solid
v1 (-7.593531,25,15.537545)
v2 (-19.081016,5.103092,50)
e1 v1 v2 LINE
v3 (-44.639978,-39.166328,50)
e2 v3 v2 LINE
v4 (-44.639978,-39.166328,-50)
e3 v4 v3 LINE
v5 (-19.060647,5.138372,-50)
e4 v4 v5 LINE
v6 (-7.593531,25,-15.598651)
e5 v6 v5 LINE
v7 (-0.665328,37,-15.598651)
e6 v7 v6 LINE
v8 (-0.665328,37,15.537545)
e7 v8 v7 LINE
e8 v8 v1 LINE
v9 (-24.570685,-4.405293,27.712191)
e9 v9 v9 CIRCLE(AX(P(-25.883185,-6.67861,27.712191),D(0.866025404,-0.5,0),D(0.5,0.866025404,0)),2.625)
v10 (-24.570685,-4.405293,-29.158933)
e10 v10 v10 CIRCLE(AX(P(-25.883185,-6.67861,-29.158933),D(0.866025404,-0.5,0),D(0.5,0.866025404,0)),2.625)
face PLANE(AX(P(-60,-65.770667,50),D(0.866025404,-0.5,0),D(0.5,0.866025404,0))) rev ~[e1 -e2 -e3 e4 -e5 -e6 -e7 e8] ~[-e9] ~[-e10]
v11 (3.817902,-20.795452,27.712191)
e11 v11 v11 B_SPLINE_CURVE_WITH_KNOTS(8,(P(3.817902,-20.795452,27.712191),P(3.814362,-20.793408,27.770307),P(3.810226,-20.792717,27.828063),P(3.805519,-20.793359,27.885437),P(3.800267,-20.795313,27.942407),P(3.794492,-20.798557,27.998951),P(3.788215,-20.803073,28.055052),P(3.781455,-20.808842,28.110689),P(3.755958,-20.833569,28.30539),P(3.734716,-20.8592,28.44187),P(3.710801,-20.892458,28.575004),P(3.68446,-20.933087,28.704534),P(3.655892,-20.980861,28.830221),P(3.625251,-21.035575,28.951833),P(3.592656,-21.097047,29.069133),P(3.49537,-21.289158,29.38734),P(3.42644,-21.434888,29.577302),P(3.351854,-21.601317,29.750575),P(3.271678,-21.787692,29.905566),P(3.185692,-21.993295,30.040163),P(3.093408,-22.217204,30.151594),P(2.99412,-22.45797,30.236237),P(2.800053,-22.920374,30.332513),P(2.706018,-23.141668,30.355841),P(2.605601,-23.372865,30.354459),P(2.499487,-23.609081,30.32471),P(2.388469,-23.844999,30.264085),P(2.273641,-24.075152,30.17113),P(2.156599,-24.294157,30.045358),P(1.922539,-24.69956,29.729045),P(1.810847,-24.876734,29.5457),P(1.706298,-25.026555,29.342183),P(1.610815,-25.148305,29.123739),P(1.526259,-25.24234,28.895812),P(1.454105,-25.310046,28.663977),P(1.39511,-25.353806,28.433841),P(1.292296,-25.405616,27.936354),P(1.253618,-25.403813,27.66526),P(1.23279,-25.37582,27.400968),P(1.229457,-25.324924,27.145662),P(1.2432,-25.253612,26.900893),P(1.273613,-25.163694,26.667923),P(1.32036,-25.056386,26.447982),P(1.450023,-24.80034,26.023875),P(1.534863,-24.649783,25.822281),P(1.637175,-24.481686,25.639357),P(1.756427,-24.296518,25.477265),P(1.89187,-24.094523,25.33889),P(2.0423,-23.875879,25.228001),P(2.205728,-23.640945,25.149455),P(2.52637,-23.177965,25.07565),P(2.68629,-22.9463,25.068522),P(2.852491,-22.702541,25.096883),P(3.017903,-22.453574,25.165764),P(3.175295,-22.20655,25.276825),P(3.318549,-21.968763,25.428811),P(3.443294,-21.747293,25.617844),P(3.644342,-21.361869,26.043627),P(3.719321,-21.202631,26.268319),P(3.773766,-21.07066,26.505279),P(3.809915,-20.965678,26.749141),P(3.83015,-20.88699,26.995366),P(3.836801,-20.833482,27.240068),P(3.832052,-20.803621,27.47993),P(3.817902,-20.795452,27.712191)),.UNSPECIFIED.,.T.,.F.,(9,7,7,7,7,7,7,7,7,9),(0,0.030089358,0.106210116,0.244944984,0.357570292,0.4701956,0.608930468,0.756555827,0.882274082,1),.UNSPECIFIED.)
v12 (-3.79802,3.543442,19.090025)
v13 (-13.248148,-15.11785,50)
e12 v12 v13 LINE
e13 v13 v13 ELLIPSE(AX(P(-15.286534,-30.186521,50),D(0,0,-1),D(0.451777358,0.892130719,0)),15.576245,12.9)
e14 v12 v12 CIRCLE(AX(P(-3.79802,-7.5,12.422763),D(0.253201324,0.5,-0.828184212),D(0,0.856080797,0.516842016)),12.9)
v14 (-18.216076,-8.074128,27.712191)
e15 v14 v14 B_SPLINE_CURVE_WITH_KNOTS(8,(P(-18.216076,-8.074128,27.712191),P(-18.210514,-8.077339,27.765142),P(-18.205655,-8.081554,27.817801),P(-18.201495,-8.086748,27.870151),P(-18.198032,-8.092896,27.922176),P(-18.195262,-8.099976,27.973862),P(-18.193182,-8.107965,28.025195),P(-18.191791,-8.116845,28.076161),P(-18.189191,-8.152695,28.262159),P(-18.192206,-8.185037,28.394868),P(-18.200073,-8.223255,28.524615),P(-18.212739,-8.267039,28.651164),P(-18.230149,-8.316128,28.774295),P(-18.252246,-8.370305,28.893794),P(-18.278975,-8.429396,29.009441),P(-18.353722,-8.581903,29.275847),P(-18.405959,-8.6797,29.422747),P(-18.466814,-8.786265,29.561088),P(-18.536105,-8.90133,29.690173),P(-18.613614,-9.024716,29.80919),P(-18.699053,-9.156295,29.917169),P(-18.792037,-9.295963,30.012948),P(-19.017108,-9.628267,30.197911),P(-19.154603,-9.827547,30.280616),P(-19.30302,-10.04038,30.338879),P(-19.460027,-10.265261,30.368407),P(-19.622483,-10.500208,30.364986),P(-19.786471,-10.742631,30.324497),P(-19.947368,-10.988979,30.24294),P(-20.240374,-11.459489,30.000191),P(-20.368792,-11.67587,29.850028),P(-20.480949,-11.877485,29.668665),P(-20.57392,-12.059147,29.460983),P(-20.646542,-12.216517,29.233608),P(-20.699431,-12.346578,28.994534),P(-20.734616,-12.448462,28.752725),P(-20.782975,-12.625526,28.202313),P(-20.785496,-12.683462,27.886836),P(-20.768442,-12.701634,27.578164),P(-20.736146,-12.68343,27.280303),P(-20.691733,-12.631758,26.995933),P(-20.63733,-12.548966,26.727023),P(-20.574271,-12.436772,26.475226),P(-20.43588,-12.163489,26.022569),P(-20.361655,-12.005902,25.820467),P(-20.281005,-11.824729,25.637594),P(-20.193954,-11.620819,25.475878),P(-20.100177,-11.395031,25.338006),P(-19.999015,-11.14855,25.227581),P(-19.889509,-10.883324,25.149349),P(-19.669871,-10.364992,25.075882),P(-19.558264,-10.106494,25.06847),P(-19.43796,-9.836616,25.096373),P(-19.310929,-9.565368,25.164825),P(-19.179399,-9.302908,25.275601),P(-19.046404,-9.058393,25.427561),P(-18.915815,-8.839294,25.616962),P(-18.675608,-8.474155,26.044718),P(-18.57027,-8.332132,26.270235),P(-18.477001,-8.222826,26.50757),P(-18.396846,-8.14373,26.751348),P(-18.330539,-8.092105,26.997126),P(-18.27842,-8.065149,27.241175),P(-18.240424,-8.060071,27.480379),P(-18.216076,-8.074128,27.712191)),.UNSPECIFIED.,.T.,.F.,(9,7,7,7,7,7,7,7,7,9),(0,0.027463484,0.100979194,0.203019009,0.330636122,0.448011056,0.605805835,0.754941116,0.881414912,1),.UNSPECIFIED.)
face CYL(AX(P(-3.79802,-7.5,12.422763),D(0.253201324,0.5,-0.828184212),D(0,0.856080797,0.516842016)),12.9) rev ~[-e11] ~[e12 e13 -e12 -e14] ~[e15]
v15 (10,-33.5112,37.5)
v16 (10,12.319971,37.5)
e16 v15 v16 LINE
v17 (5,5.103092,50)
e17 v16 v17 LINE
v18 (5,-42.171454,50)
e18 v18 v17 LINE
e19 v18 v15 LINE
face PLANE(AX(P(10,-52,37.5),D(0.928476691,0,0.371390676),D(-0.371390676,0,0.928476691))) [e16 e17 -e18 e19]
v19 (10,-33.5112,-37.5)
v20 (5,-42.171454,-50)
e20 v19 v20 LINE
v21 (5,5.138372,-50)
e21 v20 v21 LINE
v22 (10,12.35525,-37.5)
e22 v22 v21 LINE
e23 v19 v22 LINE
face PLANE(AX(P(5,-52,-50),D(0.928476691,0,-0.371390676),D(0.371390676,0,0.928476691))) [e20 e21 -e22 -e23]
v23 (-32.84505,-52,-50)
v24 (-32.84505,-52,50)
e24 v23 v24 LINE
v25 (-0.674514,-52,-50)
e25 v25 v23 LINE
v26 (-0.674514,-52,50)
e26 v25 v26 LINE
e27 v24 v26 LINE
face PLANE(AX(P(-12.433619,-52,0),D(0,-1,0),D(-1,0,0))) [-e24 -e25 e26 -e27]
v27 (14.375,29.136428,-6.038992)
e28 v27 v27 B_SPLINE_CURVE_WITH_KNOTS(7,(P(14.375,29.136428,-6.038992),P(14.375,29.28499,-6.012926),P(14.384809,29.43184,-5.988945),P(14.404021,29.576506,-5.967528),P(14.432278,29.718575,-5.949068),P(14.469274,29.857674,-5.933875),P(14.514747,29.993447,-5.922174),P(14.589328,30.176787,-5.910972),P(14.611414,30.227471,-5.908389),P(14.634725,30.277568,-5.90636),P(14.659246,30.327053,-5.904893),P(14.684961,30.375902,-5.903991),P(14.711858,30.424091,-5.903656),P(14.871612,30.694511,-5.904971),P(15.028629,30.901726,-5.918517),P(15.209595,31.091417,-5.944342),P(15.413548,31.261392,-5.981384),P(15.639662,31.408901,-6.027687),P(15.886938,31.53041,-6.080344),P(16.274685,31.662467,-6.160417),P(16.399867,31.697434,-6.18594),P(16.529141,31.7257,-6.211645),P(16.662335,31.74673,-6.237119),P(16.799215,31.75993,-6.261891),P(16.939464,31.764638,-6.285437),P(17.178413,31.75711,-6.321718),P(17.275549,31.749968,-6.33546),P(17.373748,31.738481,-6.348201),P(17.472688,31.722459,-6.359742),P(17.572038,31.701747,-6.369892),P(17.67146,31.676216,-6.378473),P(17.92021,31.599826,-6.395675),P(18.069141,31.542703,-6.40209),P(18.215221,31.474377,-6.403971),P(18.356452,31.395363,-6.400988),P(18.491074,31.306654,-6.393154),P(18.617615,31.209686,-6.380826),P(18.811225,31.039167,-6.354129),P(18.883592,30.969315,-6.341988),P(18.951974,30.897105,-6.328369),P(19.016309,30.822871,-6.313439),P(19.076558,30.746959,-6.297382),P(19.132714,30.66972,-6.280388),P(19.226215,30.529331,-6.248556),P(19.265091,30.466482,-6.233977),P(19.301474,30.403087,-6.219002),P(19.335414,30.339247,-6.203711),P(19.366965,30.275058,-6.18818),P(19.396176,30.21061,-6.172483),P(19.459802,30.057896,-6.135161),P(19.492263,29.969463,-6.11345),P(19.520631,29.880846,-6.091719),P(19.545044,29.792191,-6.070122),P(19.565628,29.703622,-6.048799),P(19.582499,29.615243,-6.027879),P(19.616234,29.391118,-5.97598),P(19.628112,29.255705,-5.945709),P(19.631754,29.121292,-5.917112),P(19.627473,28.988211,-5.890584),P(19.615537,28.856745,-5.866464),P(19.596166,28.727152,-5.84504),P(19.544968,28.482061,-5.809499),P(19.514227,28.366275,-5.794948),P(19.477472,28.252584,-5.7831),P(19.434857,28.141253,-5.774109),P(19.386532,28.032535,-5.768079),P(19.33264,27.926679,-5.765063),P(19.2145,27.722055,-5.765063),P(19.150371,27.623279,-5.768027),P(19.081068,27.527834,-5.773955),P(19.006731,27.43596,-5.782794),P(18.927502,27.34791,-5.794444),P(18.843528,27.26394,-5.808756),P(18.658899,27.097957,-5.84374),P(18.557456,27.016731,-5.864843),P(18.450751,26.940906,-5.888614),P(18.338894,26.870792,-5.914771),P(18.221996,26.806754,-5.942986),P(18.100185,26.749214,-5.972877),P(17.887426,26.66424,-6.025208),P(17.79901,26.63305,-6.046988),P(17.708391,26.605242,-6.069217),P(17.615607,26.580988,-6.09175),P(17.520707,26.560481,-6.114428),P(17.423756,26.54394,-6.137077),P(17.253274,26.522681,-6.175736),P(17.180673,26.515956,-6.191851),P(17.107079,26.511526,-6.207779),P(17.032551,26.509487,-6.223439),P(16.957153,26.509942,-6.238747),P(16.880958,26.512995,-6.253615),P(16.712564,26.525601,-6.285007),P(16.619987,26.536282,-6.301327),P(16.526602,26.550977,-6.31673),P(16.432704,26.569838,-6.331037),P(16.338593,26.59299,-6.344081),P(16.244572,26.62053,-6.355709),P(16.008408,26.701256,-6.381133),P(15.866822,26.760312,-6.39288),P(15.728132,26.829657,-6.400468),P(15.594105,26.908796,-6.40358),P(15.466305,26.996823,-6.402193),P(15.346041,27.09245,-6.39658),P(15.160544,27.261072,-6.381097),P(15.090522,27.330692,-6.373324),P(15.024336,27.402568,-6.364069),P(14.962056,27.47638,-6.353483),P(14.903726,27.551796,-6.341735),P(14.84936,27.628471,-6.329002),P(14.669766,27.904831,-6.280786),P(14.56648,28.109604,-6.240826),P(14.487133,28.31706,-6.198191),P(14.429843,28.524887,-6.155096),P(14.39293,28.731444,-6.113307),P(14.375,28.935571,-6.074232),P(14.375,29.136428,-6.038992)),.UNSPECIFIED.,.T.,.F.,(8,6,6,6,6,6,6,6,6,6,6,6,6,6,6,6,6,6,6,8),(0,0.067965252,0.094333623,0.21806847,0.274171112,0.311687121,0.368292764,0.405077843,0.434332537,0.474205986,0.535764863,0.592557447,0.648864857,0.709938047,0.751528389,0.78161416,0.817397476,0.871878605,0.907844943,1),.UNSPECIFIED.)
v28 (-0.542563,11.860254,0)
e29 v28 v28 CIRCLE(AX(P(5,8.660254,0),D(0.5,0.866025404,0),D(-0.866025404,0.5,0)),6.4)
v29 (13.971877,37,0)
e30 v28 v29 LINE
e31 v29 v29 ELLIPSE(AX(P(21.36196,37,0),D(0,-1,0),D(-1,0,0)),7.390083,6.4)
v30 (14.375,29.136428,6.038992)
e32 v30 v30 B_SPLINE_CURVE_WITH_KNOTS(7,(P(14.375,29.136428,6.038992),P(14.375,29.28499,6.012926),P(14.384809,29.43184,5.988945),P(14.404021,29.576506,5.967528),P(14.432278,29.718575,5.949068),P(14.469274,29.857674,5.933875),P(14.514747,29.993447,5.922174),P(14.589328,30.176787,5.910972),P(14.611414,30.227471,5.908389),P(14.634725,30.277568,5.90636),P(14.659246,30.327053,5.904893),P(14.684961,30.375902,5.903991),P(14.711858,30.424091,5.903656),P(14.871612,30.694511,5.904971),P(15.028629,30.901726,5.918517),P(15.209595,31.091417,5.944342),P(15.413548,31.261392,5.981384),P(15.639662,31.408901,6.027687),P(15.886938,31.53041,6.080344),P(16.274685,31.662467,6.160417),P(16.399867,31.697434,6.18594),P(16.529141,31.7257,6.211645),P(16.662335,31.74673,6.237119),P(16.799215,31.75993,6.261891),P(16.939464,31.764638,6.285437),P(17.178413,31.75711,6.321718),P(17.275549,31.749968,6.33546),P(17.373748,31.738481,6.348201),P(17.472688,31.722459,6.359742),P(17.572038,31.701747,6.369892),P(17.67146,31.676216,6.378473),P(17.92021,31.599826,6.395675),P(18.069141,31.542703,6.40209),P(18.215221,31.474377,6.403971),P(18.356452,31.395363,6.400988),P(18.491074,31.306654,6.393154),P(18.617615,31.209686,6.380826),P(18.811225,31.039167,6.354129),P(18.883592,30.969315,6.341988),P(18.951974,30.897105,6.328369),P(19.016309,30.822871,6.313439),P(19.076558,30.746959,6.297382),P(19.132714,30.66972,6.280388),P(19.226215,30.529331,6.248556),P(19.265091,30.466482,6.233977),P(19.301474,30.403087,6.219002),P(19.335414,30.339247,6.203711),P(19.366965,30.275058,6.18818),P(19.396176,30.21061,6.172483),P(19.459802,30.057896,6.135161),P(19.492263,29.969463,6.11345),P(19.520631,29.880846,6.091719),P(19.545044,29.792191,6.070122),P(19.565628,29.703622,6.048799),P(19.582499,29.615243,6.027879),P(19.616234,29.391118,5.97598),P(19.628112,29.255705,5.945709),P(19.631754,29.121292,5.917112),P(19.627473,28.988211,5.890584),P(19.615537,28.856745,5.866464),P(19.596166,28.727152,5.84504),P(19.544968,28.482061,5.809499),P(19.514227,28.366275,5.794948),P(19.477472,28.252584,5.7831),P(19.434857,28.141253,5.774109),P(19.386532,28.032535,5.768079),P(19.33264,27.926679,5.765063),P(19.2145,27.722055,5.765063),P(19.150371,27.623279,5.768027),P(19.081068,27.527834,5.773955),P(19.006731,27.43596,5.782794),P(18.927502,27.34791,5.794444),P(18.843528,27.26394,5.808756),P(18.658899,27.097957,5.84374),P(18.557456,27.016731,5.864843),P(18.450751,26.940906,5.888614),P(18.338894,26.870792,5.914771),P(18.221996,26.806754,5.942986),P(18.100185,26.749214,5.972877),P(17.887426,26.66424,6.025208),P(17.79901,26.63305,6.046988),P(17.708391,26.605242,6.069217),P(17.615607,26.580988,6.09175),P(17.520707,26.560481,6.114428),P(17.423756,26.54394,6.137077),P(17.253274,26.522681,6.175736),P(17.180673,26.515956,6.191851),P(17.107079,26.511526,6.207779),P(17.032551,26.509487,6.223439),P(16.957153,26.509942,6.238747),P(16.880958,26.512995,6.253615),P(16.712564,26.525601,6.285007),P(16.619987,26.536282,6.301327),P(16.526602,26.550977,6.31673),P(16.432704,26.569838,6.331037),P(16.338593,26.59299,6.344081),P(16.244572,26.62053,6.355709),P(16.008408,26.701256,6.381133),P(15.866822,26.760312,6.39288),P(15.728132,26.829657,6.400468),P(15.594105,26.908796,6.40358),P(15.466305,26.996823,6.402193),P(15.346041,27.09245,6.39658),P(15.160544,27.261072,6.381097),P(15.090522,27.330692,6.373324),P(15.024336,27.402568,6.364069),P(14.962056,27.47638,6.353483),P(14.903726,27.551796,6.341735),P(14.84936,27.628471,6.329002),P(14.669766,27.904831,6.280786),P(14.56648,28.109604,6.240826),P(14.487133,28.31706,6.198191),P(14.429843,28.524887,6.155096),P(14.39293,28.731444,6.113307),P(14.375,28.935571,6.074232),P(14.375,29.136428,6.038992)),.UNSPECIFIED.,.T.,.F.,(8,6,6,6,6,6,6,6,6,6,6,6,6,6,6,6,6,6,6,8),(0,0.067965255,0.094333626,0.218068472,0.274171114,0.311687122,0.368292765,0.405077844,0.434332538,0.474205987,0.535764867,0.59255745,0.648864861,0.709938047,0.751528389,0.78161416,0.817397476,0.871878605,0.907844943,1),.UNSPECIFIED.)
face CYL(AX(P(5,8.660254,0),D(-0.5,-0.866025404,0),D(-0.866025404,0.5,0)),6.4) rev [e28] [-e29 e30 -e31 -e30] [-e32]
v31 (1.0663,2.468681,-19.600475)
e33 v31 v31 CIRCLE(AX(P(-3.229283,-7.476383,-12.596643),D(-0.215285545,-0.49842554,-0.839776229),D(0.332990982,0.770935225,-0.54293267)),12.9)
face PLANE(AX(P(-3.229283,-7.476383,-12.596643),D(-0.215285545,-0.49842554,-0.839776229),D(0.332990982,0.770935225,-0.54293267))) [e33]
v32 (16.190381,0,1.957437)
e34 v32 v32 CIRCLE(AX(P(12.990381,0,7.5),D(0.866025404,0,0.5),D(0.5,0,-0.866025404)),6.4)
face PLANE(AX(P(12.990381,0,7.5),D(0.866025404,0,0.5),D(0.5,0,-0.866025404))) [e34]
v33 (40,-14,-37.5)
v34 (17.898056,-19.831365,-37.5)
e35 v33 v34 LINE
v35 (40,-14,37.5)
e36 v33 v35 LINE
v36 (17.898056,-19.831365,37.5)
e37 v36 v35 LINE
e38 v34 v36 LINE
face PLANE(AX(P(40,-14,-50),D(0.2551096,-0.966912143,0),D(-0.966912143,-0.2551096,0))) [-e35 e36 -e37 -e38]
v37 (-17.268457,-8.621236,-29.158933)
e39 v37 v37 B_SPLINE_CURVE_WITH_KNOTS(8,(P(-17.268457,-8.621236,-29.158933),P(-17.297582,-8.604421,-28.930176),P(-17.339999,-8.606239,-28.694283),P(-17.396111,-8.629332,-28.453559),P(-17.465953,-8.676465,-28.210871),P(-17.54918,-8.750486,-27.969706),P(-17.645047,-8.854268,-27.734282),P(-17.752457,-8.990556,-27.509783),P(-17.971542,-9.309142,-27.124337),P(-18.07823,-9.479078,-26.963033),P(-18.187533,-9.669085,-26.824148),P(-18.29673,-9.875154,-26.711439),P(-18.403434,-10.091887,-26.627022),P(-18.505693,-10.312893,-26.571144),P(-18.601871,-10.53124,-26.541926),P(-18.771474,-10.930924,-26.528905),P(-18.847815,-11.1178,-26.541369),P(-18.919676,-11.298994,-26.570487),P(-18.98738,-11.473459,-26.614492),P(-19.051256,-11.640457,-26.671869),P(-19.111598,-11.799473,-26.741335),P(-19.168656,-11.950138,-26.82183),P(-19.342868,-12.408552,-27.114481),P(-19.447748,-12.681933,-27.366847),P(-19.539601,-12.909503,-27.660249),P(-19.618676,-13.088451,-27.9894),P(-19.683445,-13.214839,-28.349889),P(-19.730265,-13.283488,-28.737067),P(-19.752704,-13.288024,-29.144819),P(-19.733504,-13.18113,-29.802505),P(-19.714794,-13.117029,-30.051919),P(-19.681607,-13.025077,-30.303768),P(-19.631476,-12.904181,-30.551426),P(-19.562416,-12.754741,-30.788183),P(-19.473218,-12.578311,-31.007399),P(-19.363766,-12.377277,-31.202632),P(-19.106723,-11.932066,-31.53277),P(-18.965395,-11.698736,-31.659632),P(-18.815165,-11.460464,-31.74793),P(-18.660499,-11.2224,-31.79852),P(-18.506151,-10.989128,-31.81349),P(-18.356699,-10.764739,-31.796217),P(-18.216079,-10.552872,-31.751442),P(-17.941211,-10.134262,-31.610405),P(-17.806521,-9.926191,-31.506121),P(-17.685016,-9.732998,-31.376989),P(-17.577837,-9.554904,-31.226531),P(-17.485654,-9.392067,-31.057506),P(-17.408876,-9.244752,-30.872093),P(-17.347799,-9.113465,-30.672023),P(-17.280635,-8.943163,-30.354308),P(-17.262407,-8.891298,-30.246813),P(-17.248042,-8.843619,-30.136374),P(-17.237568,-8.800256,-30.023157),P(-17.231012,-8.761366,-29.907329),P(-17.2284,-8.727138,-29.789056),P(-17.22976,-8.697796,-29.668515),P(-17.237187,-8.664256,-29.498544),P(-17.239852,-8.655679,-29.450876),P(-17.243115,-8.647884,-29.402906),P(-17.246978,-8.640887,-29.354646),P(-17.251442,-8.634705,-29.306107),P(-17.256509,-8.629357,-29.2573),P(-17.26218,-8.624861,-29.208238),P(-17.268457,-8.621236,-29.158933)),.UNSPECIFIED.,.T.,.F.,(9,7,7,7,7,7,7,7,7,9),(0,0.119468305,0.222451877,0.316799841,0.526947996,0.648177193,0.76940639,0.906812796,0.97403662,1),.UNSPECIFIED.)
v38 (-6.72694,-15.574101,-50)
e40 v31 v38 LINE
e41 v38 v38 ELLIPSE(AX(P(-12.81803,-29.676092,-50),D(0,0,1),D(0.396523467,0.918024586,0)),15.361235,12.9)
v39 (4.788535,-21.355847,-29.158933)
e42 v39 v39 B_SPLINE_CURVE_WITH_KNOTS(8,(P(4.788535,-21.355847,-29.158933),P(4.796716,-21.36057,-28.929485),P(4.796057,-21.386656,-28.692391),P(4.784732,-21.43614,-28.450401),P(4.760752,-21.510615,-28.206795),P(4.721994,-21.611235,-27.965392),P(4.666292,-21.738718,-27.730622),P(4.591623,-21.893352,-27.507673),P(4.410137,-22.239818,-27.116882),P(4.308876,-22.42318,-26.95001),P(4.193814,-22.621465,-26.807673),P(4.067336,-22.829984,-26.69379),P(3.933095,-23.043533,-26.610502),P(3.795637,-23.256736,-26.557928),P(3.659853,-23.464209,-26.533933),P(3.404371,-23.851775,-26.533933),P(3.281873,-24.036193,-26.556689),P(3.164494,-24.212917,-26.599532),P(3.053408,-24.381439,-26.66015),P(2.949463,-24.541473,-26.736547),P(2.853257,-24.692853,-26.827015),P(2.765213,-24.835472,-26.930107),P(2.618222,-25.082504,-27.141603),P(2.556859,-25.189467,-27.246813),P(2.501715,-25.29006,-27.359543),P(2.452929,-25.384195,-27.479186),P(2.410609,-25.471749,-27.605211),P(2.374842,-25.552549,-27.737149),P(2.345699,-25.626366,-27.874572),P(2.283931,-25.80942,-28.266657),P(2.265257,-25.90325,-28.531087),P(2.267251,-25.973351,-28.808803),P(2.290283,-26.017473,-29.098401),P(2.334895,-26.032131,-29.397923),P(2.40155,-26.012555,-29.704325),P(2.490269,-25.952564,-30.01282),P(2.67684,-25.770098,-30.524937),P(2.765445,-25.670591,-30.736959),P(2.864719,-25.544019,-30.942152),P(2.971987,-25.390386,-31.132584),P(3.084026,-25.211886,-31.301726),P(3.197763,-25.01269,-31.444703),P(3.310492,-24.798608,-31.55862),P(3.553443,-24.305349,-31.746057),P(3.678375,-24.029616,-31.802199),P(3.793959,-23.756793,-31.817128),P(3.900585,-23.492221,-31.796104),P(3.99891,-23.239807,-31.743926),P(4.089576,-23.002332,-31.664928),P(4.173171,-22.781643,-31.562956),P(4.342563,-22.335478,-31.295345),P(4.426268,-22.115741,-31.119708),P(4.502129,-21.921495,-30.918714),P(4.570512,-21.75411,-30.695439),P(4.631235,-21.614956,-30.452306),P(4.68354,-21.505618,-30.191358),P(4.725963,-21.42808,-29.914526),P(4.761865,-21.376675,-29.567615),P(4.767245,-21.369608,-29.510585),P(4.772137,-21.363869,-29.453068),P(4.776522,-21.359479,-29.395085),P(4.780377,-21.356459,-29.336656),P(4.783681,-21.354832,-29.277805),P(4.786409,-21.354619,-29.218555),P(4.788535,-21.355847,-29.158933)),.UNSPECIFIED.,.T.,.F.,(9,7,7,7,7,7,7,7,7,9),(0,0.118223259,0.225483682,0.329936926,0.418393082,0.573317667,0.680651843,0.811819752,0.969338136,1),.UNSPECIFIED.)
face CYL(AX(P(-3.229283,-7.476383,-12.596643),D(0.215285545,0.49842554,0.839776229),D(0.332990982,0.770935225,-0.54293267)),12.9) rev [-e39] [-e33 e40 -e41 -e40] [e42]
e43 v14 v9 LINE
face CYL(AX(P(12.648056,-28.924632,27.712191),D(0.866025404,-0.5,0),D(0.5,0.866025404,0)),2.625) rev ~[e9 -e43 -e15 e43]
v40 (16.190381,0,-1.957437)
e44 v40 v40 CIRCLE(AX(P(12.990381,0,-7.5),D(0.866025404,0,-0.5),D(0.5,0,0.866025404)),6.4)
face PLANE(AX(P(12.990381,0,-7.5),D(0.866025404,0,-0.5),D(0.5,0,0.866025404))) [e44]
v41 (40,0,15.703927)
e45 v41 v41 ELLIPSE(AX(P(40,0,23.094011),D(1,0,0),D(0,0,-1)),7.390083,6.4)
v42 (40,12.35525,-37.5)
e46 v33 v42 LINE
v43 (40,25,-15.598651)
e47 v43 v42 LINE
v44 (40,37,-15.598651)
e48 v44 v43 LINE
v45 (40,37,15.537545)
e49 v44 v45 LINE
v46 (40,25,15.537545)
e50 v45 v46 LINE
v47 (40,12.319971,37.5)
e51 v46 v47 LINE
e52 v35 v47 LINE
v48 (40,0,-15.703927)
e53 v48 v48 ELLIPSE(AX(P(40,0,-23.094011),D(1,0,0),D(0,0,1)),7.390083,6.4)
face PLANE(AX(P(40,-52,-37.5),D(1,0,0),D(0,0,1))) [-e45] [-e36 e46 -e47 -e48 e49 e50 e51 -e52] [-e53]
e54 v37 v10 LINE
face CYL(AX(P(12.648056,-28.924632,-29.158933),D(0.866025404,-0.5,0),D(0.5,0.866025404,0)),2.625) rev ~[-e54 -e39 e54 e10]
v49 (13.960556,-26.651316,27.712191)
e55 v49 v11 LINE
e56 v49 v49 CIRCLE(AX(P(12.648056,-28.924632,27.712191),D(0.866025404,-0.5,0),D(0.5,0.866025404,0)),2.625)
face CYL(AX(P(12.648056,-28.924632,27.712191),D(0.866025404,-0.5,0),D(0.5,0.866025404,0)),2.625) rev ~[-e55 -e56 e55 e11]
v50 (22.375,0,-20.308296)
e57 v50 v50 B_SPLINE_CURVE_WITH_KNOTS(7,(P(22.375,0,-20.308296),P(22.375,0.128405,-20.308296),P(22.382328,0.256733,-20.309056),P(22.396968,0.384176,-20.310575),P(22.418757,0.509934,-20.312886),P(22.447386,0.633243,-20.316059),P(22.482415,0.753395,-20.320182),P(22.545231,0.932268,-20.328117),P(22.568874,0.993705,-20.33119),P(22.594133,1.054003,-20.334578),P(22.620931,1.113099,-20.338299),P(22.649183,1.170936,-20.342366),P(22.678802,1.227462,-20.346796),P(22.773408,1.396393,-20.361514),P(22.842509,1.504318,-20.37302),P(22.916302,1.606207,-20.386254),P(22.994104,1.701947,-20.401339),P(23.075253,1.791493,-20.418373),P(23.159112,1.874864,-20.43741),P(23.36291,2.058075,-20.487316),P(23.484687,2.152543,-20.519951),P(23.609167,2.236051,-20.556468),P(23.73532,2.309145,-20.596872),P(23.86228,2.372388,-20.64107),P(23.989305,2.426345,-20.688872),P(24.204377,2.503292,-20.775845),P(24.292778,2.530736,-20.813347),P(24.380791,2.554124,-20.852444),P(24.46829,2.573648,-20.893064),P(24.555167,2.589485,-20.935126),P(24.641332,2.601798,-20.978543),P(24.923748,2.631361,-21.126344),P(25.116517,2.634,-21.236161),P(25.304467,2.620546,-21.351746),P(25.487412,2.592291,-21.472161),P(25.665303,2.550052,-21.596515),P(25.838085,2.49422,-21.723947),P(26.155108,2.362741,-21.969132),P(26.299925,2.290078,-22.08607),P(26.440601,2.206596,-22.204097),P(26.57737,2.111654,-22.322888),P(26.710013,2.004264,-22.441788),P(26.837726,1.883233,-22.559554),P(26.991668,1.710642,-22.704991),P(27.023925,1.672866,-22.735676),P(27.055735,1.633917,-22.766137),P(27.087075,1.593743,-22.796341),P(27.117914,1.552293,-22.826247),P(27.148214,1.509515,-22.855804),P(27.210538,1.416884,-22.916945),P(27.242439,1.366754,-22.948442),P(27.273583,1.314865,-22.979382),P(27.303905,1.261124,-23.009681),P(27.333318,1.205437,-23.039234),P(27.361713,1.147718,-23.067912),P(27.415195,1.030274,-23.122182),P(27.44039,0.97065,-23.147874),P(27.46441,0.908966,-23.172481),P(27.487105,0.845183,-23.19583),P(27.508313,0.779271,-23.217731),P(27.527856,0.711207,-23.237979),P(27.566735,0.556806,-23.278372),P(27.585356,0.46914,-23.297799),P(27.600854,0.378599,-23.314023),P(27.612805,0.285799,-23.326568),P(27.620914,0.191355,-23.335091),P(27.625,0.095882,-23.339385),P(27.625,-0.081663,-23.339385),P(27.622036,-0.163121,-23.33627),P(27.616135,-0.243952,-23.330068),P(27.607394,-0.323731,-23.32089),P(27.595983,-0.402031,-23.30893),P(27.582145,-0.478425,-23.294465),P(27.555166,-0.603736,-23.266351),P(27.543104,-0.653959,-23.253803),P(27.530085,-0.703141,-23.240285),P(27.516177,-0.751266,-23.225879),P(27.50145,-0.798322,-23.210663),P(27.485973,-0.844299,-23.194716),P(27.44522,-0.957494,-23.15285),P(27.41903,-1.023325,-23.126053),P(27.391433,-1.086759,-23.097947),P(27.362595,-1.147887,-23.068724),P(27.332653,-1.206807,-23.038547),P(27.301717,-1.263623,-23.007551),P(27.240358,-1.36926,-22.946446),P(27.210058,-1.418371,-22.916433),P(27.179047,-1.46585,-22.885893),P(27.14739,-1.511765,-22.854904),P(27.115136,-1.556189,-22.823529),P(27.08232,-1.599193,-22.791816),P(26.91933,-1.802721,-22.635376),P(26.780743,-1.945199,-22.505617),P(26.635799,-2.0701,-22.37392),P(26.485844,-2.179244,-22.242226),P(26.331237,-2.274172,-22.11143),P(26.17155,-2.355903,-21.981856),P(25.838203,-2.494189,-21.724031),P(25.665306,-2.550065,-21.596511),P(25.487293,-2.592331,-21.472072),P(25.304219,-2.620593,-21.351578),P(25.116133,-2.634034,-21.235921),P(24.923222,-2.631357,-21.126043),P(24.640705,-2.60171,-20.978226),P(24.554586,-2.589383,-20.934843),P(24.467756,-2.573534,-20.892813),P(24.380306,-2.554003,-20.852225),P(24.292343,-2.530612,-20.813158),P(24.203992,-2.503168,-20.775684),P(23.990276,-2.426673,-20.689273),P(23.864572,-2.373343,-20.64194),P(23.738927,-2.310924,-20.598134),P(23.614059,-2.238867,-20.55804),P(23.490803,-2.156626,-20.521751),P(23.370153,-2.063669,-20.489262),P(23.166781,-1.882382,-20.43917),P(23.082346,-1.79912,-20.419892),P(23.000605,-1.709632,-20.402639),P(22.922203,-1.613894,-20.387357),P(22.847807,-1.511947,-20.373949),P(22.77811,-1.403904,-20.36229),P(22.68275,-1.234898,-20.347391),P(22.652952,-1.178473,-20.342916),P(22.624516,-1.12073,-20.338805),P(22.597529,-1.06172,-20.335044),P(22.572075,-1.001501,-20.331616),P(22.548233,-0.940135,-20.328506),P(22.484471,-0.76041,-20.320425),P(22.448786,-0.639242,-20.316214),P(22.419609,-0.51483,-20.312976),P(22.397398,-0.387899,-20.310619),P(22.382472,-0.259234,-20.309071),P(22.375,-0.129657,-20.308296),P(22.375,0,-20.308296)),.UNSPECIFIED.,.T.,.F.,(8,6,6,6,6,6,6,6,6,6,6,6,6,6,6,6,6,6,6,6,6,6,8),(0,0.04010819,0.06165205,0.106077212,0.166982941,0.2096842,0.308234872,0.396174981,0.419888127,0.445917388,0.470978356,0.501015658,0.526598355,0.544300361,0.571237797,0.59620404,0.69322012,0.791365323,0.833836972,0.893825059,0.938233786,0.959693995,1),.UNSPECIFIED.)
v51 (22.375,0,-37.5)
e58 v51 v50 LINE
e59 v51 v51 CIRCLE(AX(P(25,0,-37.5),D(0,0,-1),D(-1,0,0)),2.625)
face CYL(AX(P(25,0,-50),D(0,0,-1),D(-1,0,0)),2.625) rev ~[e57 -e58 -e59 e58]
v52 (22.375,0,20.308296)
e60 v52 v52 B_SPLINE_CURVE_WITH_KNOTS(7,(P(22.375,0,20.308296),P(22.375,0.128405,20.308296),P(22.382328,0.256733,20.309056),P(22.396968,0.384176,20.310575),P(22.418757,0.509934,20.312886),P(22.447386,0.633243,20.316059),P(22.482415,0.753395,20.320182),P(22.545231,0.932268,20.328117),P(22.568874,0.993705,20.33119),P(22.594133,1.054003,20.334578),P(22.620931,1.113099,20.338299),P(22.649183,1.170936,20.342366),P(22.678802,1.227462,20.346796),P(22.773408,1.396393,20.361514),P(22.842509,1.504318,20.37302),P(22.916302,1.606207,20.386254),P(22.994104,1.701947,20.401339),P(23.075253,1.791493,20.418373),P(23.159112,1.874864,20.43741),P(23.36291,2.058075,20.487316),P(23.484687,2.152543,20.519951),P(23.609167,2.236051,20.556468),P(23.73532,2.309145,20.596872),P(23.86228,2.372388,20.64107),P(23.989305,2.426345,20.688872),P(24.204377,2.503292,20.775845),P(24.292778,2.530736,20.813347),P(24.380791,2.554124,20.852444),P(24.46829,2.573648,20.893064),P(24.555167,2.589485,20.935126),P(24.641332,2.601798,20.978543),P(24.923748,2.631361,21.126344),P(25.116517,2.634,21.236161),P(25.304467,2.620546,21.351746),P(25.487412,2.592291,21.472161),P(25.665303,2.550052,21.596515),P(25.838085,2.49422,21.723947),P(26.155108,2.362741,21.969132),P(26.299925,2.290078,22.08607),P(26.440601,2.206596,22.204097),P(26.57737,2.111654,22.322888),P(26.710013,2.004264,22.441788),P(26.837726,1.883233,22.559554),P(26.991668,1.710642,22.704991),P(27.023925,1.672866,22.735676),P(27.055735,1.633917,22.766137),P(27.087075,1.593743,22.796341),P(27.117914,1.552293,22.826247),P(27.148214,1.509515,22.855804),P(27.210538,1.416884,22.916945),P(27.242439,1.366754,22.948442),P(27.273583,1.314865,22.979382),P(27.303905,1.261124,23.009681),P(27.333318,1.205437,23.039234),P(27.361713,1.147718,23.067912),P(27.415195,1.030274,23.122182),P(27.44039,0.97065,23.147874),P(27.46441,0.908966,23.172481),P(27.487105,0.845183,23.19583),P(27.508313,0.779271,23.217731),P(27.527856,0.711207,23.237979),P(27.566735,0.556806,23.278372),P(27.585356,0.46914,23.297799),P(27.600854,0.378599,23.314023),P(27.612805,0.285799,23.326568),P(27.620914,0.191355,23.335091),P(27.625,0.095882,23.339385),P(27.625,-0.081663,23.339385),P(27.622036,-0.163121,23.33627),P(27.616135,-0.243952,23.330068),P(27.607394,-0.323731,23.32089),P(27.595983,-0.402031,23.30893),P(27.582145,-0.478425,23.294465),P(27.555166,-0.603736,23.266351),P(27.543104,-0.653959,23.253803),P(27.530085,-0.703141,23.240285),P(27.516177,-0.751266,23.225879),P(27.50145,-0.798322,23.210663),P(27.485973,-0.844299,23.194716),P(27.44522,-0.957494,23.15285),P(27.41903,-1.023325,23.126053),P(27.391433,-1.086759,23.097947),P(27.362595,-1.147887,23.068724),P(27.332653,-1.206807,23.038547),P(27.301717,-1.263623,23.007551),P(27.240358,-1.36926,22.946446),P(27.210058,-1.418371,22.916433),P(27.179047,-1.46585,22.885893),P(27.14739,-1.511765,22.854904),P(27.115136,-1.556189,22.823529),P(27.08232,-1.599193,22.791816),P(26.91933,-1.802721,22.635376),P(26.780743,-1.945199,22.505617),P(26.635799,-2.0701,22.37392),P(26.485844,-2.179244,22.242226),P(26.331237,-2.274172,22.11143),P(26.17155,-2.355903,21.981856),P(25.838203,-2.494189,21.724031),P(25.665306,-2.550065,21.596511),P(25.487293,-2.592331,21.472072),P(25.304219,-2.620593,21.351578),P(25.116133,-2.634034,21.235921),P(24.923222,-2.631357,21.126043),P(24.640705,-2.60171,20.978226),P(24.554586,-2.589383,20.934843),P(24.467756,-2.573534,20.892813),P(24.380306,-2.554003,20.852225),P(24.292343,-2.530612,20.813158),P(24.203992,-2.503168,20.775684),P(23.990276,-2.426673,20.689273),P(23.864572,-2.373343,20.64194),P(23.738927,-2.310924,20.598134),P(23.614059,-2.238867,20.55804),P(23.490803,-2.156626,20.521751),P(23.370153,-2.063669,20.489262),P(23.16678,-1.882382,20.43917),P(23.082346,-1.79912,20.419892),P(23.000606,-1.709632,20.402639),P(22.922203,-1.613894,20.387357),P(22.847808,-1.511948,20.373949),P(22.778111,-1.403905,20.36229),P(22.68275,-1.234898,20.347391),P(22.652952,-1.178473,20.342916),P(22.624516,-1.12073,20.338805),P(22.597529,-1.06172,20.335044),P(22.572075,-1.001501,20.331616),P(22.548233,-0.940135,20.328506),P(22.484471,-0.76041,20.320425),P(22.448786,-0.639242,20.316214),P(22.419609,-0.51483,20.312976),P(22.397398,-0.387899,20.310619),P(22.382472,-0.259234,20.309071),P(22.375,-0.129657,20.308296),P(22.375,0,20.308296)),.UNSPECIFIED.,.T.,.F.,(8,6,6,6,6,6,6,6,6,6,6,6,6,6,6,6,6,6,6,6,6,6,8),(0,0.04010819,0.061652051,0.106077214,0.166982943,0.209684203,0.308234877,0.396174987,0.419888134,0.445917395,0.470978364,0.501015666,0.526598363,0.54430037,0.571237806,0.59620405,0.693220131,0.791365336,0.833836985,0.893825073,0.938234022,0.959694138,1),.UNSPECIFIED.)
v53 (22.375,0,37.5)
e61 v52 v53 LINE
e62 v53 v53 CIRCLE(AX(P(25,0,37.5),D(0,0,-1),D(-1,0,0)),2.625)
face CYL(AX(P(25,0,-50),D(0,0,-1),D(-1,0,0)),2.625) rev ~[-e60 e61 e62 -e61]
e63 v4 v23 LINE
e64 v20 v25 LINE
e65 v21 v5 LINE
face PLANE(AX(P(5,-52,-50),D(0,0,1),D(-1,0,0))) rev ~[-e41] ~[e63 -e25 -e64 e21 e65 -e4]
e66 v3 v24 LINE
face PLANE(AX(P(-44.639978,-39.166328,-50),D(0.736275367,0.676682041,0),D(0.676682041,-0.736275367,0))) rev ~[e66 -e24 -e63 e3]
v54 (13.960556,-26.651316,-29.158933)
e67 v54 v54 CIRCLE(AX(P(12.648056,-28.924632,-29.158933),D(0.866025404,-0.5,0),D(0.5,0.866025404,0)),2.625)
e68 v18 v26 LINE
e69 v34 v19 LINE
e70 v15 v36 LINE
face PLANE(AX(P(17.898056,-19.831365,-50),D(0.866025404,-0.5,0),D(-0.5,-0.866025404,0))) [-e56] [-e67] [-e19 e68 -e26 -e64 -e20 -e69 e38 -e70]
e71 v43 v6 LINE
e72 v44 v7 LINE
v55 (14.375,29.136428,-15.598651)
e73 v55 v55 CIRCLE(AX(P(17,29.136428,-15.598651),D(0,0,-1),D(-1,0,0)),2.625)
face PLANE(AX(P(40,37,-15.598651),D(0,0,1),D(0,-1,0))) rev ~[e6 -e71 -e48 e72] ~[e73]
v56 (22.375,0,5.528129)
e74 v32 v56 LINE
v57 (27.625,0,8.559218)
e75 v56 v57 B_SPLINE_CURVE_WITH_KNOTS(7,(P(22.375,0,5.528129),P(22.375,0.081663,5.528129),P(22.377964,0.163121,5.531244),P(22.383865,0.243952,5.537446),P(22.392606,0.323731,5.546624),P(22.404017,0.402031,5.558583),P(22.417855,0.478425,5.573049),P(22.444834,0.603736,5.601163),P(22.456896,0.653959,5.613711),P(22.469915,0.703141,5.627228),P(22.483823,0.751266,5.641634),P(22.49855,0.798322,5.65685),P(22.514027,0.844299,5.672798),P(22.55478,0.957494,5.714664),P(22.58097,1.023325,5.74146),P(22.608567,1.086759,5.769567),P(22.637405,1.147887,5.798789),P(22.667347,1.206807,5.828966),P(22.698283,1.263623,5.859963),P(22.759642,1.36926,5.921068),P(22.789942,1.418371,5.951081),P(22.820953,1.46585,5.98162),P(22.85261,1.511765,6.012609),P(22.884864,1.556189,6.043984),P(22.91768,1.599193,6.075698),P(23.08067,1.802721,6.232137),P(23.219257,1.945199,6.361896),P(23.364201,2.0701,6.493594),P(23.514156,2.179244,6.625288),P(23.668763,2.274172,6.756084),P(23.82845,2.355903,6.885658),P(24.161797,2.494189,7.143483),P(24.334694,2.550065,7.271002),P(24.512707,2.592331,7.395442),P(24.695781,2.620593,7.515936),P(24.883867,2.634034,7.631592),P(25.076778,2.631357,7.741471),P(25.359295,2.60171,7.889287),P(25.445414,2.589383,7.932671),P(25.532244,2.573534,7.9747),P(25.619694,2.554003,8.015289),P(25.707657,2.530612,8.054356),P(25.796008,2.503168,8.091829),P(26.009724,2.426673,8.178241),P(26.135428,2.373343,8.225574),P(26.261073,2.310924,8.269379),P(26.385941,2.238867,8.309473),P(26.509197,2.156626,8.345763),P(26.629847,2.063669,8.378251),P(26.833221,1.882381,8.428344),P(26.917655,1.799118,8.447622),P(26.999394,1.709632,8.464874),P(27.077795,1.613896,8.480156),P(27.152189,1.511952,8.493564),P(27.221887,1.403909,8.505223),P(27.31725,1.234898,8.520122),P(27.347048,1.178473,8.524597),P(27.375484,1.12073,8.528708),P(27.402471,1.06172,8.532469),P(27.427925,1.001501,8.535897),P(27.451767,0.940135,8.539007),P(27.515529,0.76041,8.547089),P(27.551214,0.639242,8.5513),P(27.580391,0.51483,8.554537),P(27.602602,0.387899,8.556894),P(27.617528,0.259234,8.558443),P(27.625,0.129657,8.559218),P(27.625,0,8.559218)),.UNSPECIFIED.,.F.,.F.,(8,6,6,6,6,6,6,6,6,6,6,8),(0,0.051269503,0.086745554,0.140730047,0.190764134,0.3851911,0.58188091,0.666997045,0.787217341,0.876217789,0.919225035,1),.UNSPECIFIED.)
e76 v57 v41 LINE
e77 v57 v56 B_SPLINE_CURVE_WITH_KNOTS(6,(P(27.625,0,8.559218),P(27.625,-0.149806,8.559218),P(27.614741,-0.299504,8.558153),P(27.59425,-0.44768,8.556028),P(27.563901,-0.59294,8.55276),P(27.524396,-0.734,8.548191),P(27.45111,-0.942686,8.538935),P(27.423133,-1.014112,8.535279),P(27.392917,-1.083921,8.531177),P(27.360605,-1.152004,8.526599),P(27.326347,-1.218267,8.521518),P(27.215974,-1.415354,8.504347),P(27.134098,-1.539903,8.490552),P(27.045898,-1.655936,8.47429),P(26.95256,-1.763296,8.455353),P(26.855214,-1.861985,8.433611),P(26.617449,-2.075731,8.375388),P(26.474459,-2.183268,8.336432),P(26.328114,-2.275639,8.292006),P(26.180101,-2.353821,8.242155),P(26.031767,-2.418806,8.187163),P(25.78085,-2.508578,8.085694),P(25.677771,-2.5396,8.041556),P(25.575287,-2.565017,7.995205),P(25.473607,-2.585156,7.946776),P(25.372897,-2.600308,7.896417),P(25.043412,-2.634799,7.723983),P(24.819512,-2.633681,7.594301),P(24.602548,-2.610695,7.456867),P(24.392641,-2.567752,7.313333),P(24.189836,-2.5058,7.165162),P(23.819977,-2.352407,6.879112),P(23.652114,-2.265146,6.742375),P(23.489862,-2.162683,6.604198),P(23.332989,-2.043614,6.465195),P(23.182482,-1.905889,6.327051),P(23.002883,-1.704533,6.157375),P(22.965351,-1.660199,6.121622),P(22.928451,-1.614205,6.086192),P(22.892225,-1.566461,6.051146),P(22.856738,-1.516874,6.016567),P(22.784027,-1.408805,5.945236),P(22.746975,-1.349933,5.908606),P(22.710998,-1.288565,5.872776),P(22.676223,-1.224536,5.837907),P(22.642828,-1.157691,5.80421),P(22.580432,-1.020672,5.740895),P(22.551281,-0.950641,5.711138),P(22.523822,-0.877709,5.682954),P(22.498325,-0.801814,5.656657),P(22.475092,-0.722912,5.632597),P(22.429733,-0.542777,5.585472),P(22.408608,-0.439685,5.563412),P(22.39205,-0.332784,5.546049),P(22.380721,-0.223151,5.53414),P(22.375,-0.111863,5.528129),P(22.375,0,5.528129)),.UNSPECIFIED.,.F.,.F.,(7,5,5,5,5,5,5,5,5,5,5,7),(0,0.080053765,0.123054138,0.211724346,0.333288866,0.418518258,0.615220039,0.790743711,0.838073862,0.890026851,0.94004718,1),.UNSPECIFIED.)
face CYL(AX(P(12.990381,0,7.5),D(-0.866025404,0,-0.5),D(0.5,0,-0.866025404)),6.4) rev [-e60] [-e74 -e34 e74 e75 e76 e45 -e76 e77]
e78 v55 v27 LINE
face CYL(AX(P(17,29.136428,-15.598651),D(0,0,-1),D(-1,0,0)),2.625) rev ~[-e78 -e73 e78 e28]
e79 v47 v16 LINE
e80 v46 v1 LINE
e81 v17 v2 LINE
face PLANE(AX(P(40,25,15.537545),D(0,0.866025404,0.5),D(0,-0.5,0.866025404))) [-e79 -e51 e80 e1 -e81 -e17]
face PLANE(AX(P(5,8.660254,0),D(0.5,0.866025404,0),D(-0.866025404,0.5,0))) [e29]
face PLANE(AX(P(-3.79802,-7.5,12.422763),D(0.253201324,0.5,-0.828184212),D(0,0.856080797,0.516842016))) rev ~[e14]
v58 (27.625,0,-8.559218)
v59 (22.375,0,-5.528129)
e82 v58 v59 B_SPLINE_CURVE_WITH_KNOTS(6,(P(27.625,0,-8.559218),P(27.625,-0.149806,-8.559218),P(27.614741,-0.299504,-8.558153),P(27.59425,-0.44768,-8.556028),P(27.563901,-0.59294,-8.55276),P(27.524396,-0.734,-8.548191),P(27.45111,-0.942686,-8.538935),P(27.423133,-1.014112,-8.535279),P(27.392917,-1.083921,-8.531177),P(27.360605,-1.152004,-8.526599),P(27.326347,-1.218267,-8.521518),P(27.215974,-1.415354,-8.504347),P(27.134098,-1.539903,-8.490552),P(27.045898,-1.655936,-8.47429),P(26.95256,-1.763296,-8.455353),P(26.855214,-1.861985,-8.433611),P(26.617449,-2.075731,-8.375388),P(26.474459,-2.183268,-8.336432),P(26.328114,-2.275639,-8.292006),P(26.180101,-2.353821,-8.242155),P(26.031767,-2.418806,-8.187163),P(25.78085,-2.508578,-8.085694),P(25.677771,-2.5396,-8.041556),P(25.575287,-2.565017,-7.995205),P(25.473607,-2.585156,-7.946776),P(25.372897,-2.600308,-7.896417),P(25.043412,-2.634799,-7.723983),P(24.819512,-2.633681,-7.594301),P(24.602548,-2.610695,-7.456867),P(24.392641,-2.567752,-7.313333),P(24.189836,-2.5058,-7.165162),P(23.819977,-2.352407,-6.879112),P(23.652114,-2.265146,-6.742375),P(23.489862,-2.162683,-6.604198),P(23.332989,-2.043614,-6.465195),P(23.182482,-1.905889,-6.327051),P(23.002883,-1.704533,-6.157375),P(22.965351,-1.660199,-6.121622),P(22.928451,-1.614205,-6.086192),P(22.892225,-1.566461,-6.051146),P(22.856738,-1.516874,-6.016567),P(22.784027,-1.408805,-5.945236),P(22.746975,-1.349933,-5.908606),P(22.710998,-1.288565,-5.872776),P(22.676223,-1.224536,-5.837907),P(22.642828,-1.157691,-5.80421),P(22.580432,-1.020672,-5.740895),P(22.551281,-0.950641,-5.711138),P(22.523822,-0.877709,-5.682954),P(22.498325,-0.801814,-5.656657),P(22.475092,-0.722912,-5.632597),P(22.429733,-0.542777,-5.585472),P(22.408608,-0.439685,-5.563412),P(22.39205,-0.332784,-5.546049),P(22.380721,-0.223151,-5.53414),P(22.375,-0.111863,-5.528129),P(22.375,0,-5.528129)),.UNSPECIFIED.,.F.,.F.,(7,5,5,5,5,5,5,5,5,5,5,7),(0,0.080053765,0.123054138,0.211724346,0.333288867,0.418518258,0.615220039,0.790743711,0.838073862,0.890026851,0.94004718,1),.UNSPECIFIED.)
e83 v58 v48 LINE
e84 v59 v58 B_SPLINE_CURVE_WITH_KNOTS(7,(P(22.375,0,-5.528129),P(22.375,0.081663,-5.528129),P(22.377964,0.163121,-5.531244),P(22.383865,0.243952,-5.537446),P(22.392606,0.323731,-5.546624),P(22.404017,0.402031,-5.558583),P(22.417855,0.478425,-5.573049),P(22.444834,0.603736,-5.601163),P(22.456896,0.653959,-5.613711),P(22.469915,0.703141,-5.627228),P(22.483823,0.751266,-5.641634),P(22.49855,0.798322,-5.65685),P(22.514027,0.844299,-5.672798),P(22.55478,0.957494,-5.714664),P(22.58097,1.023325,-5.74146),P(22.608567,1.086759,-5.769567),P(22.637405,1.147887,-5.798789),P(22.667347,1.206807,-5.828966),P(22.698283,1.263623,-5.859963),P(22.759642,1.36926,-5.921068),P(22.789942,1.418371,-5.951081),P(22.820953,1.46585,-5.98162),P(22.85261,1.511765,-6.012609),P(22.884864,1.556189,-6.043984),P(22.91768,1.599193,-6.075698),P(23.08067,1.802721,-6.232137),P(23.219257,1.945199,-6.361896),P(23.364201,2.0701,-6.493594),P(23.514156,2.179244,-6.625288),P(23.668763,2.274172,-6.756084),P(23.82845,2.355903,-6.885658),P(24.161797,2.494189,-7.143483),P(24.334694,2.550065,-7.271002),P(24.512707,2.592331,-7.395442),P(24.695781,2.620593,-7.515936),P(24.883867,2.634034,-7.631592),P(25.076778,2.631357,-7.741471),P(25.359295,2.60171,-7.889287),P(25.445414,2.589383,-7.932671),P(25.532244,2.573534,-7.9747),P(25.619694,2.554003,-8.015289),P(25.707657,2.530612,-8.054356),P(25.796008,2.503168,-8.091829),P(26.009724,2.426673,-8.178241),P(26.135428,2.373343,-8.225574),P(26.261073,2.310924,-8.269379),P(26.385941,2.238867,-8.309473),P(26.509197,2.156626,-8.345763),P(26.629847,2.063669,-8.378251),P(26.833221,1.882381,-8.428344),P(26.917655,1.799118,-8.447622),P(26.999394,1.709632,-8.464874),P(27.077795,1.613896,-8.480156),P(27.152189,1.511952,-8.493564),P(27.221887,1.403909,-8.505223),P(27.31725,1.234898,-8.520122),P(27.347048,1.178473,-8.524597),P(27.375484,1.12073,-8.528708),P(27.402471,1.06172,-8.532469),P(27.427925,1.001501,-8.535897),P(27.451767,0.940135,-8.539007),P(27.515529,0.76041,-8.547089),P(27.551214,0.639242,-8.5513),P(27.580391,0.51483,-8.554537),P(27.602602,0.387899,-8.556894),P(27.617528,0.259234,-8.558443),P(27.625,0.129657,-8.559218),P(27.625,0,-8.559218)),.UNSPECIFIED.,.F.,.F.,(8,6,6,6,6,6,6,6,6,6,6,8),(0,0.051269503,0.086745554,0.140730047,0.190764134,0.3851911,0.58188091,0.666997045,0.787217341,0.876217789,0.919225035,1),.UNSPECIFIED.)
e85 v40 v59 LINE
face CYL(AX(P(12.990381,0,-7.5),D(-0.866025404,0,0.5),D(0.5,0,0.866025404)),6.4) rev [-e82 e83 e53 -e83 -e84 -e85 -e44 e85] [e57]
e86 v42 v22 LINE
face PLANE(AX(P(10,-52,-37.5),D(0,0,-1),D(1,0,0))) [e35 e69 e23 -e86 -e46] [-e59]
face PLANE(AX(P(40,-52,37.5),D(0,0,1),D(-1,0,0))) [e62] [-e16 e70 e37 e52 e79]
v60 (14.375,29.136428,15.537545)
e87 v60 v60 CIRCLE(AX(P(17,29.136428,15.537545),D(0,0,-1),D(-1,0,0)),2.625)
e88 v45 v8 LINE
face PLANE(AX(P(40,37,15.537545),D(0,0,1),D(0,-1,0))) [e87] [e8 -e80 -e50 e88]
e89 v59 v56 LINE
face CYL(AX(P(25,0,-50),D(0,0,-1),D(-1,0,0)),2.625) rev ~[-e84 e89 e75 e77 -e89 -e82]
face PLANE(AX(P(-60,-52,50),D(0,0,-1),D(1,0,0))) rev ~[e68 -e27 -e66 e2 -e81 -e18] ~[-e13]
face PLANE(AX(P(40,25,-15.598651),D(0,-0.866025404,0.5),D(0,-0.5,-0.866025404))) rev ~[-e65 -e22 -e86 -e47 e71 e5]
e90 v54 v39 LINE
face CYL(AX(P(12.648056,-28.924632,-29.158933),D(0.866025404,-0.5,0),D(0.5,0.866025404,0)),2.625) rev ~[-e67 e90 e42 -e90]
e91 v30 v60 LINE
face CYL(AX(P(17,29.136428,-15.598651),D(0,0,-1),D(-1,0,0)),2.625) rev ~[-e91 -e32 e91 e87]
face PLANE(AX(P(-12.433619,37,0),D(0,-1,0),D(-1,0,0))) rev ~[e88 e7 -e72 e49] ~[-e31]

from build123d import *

# Parameters (mm, degrees)
BOSS_EXTRUDE1_DEPTH      = 37
BOSS_EXTRUDE1_DEPTH_BACK = 52
CUT_EXTRUDE5_REACH       = 108.479
SKETCH11_R               = 6.4
SKETCH12_R               = 6.4
CUT_EXTRUDE6_DEPTH       = 107.479320653
SKETCH14_R               = 12.9
CUT_EXTRUDE8_DEPTH       = 96.517571793
SKETCH15_R               = 12.9
CUT_EXTRUDE9_DEPTH       = 96.055320399
SKETCH16_R               = 2.625
CUT_EXTRUDE10_DEPTH      = 128.687117596
SKETCH13_R               = 6.4
CUT_EXTRUDE15_DEPTH      = 103.003266712
CUT_EXTRUDE16_DEPTH      = 128.687117596
CUT_EXTRUDE17_DEPTH      = 125.149710579
CUT_EXTRUDE25_DEPTH      = 117.949180331
SKETCH31_R               = 2.625
CUT_EXTRUDE22_DEPTH      = 103.253619099
CUT_EXTRUDE26_DEPTH      = 125.149710659
SKETCH36_R               = 2.625
CUT_EXTRUDE27_DEPTH      = 95.867859136


with BuildPart() as part:
    # Sketch9 → Boss-Extrude1 (new, two sides: drawn at the far end of the back side and taken through both)
    with BuildSketch(Plane(origin=(0, 0, 0), x_dir=(1, 0, 0), z_dir=(0, 1, 0)).offset(-BOSS_EXTRUDE1_DEPTH_BACK)):
        Polygon((-5, 50), (5, 50), (10, 37.5), (40, 37.5), (40, -37.5), (10, -37.5), (5, -50), (-5, -50), (-60, -50), (-60, 50), align=None)
    extrude(amount=BOSS_EXTRUDE1_DEPTH + BOSS_EXTRUDE1_DEPTH_BACK)

    # Cut-Extrude5: up to this plane
    cut_extrude5_end = Plane(origin=(40, -52, 37.5), z_dir=(1, 0, 0))
    # Sketch11 → Cut-Extrude5 (cut, up to the surface)
    with BuildSketch(Plane(origin=(12.990381057, 0, -7.5), x_dir=(-0.5000000000000013, 0, -0.8660254037844379), z_dir=(0.8660254037844379, 0, -0.5000000000000013)), mode=Mode.PRIVATE) as cut_extrude5_sk1:
        with Locations(Location((0, 0, 0), (0, 0, 180))):
            Circle(SKETCH11_R)
    cut_extrude5_tool1 = split(extrude(cut_extrude5_sk1.sketch, amount=CUT_EXTRUDE5_REACH, mode=Mode.PRIVATE), bisect_by=cut_extrude5_end, keep=Keep.BOTH, mode=Mode.PRIVATE)
    add(cut_extrude5_tool1.solids().sort_by_distance((12.990381, 0, -7.5))[0], mode=Mode.SUBTRACT)

    # Sketch12 → Cut-Extrude6 (cut, through all)
    with BuildSketch(Plane(origin=(12.990381057, 0, 7.5), x_dir=(0.5000000000000009, 0, -0.866025403784438), z_dir=(0.8660254037844382, 0, 0.500000000000001))):
        Circle(SKETCH12_R)
    extrude(amount=CUT_EXTRUDE6_DEPTH, mode=Mode.SUBTRACT)

    # Sketch14 → Cut-Extrude8 (cut, through all)
    with BuildSketch(Plane(origin=(-3.229283171, -7.476383099, -12.59664344), x_dir=(-0.9697475532809772, 0.007782671596180618, 0.24398588674016475), z_dir=(-0.21528554474375752, -0.49842553993010197, -0.8397762293431328))):
        with Locations(Location((0, 0, 0), (0, 0, 116.704243504))):
            Circle(SKETCH14_R)
    extrude(amount=CUT_EXTRUDE8_DEPTH, mode=Mode.SUBTRACT)

    # Sketch15 → Cut-Extrude9 (cut, through all)
    with BuildSketch(Plane(origin=(-3.798019855, -7.5, 12.422763186), x_dir=(-0.9674136083951571, 0.13086508264944213, -0.2167607908156276), z_dir=(0.2532013236376571, 0.49999999999999495, -0.8281842124238686))):
        with Locations(Location((0, 0, 0), (0, 0, 90))):
            Circle(SKETCH15_R)
    extrude(amount=-CUT_EXTRUDE9_DEPTH, mode=Mode.SUBTRACT)

    # Sketch16 → Cut-Extrude10 (cut, through all)
    with BuildSketch(Plane(origin=(0, 0, -50), x_dir=(-1, 0, 0), z_dir=(0, 0, -1))):
        with Locations((-25, 0)):
            Circle(SKETCH16_R)
    extrude(amount=-CUT_EXTRUDE10_DEPTH, mode=Mode.SUBTRACT)

    # Sketch13 → Cut-Extrude15 (cut, through all)
    with BuildSketch(Plane(origin=(5, 8.660254038, 0), x_dir=(0.8581606322585569, -0.49545927204241474, -0.1344635228929922), z_dir=(0.49999999999999806, 0.8660254037844397, 0))):
        with Locations(Location((0, 0, 0), (0, 0, 172.272400829))):
            Circle(SKETCH13_R)
    extrude(amount=CUT_EXTRUDE15_DEPTH, mode=Mode.SUBTRACT)

    # Sketch25 → Cut-Extrude16 (cut, through all)
    with BuildSketch(Plane.XY.offset(50)):
        Polygon((-60, -65.770666842), (-0.665327834, 37), (-60, 37), align=None)
    extrude(amount=-CUT_EXTRUDE16_DEPTH, mode=Mode.SUBTRACT)

    # Sketch26 → Cut-Extrude17 (cut, through all)
    with BuildSketch(Plane(origin=(0, 0, -50), x_dir=(-1, 0, 0), z_dir=(0, 0, -1))):
        Polygon((-40, -14), (-17.898055975, -19.831365478), (0.674513826, -52), (-40, -52), align=None)
    extrude(amount=-CUT_EXTRUDE17_DEPTH, mode=Mode.SUBTRACT)

    # Sketch27 → Cut-Extrude25 (cut, through all)
    with BuildSketch(Plane.ZY.offset(-40)):
        Polygon((-50, 37), (-15.598651273, 37), (-15.598651273, 25), (-50, 5.138372052), align=None)
        Polygon((15.537544719, 37), (15.537544719, 25), (50, 5.103092167), (50, 37), align=None)
    extrude(amount=CUT_EXTRUDE25_DEPTH, mode=Mode.SUBTRACT)

    # Sketch31 → Cut-Extrude22 (cut, through all)
    with BuildSketch(Plane(origin=(22.010775129, -12.707926946, 0), x_dir=(0, 0, -1), z_dir=(0.8660254037844397, -0.4999999999999981, 0))):
        with Locations(Location((-27.712190923, -18.725438309, 0), (0, 0, 90))):
            Circle(SKETCH31_R)
        with Locations(Location((29.158933157, -18.725438309, 0), (0, 0, 90))):
            Circle(SKETCH31_R)
    extrude(amount=-CUT_EXTRUDE22_DEPTH, mode=Mode.SUBTRACT)

    # Sketch35 → Cut-Extrude26 (cut, through all)
    with BuildSketch(Plane(origin=(0, 0, -50), x_dir=(-1, 0, 0), z_dir=(0, 0, -1))):
        Polygon((44.639977993, -39.16632832), (25.461488573, -60.033808877), (52.049501792, -52), align=None)
    extrude(amount=-CUT_EXTRUDE26_DEPTH, mode=Mode.SUBTRACT)

    # Sketch36 → Cut-Extrude27 (cut, through all)
    with BuildSketch(Plane(origin=(0, 0, -15.598651273), x_dir=(-1, 0, 0), z_dir=(0, 0, -1))):
        with Locations((-17, 29.136428333)):
            Circle(SKETCH36_R)
    extrude(amount=-CUT_EXTRUDE27_DEPTH, mode=Mode.SUBTRACT)


solid = part.part
